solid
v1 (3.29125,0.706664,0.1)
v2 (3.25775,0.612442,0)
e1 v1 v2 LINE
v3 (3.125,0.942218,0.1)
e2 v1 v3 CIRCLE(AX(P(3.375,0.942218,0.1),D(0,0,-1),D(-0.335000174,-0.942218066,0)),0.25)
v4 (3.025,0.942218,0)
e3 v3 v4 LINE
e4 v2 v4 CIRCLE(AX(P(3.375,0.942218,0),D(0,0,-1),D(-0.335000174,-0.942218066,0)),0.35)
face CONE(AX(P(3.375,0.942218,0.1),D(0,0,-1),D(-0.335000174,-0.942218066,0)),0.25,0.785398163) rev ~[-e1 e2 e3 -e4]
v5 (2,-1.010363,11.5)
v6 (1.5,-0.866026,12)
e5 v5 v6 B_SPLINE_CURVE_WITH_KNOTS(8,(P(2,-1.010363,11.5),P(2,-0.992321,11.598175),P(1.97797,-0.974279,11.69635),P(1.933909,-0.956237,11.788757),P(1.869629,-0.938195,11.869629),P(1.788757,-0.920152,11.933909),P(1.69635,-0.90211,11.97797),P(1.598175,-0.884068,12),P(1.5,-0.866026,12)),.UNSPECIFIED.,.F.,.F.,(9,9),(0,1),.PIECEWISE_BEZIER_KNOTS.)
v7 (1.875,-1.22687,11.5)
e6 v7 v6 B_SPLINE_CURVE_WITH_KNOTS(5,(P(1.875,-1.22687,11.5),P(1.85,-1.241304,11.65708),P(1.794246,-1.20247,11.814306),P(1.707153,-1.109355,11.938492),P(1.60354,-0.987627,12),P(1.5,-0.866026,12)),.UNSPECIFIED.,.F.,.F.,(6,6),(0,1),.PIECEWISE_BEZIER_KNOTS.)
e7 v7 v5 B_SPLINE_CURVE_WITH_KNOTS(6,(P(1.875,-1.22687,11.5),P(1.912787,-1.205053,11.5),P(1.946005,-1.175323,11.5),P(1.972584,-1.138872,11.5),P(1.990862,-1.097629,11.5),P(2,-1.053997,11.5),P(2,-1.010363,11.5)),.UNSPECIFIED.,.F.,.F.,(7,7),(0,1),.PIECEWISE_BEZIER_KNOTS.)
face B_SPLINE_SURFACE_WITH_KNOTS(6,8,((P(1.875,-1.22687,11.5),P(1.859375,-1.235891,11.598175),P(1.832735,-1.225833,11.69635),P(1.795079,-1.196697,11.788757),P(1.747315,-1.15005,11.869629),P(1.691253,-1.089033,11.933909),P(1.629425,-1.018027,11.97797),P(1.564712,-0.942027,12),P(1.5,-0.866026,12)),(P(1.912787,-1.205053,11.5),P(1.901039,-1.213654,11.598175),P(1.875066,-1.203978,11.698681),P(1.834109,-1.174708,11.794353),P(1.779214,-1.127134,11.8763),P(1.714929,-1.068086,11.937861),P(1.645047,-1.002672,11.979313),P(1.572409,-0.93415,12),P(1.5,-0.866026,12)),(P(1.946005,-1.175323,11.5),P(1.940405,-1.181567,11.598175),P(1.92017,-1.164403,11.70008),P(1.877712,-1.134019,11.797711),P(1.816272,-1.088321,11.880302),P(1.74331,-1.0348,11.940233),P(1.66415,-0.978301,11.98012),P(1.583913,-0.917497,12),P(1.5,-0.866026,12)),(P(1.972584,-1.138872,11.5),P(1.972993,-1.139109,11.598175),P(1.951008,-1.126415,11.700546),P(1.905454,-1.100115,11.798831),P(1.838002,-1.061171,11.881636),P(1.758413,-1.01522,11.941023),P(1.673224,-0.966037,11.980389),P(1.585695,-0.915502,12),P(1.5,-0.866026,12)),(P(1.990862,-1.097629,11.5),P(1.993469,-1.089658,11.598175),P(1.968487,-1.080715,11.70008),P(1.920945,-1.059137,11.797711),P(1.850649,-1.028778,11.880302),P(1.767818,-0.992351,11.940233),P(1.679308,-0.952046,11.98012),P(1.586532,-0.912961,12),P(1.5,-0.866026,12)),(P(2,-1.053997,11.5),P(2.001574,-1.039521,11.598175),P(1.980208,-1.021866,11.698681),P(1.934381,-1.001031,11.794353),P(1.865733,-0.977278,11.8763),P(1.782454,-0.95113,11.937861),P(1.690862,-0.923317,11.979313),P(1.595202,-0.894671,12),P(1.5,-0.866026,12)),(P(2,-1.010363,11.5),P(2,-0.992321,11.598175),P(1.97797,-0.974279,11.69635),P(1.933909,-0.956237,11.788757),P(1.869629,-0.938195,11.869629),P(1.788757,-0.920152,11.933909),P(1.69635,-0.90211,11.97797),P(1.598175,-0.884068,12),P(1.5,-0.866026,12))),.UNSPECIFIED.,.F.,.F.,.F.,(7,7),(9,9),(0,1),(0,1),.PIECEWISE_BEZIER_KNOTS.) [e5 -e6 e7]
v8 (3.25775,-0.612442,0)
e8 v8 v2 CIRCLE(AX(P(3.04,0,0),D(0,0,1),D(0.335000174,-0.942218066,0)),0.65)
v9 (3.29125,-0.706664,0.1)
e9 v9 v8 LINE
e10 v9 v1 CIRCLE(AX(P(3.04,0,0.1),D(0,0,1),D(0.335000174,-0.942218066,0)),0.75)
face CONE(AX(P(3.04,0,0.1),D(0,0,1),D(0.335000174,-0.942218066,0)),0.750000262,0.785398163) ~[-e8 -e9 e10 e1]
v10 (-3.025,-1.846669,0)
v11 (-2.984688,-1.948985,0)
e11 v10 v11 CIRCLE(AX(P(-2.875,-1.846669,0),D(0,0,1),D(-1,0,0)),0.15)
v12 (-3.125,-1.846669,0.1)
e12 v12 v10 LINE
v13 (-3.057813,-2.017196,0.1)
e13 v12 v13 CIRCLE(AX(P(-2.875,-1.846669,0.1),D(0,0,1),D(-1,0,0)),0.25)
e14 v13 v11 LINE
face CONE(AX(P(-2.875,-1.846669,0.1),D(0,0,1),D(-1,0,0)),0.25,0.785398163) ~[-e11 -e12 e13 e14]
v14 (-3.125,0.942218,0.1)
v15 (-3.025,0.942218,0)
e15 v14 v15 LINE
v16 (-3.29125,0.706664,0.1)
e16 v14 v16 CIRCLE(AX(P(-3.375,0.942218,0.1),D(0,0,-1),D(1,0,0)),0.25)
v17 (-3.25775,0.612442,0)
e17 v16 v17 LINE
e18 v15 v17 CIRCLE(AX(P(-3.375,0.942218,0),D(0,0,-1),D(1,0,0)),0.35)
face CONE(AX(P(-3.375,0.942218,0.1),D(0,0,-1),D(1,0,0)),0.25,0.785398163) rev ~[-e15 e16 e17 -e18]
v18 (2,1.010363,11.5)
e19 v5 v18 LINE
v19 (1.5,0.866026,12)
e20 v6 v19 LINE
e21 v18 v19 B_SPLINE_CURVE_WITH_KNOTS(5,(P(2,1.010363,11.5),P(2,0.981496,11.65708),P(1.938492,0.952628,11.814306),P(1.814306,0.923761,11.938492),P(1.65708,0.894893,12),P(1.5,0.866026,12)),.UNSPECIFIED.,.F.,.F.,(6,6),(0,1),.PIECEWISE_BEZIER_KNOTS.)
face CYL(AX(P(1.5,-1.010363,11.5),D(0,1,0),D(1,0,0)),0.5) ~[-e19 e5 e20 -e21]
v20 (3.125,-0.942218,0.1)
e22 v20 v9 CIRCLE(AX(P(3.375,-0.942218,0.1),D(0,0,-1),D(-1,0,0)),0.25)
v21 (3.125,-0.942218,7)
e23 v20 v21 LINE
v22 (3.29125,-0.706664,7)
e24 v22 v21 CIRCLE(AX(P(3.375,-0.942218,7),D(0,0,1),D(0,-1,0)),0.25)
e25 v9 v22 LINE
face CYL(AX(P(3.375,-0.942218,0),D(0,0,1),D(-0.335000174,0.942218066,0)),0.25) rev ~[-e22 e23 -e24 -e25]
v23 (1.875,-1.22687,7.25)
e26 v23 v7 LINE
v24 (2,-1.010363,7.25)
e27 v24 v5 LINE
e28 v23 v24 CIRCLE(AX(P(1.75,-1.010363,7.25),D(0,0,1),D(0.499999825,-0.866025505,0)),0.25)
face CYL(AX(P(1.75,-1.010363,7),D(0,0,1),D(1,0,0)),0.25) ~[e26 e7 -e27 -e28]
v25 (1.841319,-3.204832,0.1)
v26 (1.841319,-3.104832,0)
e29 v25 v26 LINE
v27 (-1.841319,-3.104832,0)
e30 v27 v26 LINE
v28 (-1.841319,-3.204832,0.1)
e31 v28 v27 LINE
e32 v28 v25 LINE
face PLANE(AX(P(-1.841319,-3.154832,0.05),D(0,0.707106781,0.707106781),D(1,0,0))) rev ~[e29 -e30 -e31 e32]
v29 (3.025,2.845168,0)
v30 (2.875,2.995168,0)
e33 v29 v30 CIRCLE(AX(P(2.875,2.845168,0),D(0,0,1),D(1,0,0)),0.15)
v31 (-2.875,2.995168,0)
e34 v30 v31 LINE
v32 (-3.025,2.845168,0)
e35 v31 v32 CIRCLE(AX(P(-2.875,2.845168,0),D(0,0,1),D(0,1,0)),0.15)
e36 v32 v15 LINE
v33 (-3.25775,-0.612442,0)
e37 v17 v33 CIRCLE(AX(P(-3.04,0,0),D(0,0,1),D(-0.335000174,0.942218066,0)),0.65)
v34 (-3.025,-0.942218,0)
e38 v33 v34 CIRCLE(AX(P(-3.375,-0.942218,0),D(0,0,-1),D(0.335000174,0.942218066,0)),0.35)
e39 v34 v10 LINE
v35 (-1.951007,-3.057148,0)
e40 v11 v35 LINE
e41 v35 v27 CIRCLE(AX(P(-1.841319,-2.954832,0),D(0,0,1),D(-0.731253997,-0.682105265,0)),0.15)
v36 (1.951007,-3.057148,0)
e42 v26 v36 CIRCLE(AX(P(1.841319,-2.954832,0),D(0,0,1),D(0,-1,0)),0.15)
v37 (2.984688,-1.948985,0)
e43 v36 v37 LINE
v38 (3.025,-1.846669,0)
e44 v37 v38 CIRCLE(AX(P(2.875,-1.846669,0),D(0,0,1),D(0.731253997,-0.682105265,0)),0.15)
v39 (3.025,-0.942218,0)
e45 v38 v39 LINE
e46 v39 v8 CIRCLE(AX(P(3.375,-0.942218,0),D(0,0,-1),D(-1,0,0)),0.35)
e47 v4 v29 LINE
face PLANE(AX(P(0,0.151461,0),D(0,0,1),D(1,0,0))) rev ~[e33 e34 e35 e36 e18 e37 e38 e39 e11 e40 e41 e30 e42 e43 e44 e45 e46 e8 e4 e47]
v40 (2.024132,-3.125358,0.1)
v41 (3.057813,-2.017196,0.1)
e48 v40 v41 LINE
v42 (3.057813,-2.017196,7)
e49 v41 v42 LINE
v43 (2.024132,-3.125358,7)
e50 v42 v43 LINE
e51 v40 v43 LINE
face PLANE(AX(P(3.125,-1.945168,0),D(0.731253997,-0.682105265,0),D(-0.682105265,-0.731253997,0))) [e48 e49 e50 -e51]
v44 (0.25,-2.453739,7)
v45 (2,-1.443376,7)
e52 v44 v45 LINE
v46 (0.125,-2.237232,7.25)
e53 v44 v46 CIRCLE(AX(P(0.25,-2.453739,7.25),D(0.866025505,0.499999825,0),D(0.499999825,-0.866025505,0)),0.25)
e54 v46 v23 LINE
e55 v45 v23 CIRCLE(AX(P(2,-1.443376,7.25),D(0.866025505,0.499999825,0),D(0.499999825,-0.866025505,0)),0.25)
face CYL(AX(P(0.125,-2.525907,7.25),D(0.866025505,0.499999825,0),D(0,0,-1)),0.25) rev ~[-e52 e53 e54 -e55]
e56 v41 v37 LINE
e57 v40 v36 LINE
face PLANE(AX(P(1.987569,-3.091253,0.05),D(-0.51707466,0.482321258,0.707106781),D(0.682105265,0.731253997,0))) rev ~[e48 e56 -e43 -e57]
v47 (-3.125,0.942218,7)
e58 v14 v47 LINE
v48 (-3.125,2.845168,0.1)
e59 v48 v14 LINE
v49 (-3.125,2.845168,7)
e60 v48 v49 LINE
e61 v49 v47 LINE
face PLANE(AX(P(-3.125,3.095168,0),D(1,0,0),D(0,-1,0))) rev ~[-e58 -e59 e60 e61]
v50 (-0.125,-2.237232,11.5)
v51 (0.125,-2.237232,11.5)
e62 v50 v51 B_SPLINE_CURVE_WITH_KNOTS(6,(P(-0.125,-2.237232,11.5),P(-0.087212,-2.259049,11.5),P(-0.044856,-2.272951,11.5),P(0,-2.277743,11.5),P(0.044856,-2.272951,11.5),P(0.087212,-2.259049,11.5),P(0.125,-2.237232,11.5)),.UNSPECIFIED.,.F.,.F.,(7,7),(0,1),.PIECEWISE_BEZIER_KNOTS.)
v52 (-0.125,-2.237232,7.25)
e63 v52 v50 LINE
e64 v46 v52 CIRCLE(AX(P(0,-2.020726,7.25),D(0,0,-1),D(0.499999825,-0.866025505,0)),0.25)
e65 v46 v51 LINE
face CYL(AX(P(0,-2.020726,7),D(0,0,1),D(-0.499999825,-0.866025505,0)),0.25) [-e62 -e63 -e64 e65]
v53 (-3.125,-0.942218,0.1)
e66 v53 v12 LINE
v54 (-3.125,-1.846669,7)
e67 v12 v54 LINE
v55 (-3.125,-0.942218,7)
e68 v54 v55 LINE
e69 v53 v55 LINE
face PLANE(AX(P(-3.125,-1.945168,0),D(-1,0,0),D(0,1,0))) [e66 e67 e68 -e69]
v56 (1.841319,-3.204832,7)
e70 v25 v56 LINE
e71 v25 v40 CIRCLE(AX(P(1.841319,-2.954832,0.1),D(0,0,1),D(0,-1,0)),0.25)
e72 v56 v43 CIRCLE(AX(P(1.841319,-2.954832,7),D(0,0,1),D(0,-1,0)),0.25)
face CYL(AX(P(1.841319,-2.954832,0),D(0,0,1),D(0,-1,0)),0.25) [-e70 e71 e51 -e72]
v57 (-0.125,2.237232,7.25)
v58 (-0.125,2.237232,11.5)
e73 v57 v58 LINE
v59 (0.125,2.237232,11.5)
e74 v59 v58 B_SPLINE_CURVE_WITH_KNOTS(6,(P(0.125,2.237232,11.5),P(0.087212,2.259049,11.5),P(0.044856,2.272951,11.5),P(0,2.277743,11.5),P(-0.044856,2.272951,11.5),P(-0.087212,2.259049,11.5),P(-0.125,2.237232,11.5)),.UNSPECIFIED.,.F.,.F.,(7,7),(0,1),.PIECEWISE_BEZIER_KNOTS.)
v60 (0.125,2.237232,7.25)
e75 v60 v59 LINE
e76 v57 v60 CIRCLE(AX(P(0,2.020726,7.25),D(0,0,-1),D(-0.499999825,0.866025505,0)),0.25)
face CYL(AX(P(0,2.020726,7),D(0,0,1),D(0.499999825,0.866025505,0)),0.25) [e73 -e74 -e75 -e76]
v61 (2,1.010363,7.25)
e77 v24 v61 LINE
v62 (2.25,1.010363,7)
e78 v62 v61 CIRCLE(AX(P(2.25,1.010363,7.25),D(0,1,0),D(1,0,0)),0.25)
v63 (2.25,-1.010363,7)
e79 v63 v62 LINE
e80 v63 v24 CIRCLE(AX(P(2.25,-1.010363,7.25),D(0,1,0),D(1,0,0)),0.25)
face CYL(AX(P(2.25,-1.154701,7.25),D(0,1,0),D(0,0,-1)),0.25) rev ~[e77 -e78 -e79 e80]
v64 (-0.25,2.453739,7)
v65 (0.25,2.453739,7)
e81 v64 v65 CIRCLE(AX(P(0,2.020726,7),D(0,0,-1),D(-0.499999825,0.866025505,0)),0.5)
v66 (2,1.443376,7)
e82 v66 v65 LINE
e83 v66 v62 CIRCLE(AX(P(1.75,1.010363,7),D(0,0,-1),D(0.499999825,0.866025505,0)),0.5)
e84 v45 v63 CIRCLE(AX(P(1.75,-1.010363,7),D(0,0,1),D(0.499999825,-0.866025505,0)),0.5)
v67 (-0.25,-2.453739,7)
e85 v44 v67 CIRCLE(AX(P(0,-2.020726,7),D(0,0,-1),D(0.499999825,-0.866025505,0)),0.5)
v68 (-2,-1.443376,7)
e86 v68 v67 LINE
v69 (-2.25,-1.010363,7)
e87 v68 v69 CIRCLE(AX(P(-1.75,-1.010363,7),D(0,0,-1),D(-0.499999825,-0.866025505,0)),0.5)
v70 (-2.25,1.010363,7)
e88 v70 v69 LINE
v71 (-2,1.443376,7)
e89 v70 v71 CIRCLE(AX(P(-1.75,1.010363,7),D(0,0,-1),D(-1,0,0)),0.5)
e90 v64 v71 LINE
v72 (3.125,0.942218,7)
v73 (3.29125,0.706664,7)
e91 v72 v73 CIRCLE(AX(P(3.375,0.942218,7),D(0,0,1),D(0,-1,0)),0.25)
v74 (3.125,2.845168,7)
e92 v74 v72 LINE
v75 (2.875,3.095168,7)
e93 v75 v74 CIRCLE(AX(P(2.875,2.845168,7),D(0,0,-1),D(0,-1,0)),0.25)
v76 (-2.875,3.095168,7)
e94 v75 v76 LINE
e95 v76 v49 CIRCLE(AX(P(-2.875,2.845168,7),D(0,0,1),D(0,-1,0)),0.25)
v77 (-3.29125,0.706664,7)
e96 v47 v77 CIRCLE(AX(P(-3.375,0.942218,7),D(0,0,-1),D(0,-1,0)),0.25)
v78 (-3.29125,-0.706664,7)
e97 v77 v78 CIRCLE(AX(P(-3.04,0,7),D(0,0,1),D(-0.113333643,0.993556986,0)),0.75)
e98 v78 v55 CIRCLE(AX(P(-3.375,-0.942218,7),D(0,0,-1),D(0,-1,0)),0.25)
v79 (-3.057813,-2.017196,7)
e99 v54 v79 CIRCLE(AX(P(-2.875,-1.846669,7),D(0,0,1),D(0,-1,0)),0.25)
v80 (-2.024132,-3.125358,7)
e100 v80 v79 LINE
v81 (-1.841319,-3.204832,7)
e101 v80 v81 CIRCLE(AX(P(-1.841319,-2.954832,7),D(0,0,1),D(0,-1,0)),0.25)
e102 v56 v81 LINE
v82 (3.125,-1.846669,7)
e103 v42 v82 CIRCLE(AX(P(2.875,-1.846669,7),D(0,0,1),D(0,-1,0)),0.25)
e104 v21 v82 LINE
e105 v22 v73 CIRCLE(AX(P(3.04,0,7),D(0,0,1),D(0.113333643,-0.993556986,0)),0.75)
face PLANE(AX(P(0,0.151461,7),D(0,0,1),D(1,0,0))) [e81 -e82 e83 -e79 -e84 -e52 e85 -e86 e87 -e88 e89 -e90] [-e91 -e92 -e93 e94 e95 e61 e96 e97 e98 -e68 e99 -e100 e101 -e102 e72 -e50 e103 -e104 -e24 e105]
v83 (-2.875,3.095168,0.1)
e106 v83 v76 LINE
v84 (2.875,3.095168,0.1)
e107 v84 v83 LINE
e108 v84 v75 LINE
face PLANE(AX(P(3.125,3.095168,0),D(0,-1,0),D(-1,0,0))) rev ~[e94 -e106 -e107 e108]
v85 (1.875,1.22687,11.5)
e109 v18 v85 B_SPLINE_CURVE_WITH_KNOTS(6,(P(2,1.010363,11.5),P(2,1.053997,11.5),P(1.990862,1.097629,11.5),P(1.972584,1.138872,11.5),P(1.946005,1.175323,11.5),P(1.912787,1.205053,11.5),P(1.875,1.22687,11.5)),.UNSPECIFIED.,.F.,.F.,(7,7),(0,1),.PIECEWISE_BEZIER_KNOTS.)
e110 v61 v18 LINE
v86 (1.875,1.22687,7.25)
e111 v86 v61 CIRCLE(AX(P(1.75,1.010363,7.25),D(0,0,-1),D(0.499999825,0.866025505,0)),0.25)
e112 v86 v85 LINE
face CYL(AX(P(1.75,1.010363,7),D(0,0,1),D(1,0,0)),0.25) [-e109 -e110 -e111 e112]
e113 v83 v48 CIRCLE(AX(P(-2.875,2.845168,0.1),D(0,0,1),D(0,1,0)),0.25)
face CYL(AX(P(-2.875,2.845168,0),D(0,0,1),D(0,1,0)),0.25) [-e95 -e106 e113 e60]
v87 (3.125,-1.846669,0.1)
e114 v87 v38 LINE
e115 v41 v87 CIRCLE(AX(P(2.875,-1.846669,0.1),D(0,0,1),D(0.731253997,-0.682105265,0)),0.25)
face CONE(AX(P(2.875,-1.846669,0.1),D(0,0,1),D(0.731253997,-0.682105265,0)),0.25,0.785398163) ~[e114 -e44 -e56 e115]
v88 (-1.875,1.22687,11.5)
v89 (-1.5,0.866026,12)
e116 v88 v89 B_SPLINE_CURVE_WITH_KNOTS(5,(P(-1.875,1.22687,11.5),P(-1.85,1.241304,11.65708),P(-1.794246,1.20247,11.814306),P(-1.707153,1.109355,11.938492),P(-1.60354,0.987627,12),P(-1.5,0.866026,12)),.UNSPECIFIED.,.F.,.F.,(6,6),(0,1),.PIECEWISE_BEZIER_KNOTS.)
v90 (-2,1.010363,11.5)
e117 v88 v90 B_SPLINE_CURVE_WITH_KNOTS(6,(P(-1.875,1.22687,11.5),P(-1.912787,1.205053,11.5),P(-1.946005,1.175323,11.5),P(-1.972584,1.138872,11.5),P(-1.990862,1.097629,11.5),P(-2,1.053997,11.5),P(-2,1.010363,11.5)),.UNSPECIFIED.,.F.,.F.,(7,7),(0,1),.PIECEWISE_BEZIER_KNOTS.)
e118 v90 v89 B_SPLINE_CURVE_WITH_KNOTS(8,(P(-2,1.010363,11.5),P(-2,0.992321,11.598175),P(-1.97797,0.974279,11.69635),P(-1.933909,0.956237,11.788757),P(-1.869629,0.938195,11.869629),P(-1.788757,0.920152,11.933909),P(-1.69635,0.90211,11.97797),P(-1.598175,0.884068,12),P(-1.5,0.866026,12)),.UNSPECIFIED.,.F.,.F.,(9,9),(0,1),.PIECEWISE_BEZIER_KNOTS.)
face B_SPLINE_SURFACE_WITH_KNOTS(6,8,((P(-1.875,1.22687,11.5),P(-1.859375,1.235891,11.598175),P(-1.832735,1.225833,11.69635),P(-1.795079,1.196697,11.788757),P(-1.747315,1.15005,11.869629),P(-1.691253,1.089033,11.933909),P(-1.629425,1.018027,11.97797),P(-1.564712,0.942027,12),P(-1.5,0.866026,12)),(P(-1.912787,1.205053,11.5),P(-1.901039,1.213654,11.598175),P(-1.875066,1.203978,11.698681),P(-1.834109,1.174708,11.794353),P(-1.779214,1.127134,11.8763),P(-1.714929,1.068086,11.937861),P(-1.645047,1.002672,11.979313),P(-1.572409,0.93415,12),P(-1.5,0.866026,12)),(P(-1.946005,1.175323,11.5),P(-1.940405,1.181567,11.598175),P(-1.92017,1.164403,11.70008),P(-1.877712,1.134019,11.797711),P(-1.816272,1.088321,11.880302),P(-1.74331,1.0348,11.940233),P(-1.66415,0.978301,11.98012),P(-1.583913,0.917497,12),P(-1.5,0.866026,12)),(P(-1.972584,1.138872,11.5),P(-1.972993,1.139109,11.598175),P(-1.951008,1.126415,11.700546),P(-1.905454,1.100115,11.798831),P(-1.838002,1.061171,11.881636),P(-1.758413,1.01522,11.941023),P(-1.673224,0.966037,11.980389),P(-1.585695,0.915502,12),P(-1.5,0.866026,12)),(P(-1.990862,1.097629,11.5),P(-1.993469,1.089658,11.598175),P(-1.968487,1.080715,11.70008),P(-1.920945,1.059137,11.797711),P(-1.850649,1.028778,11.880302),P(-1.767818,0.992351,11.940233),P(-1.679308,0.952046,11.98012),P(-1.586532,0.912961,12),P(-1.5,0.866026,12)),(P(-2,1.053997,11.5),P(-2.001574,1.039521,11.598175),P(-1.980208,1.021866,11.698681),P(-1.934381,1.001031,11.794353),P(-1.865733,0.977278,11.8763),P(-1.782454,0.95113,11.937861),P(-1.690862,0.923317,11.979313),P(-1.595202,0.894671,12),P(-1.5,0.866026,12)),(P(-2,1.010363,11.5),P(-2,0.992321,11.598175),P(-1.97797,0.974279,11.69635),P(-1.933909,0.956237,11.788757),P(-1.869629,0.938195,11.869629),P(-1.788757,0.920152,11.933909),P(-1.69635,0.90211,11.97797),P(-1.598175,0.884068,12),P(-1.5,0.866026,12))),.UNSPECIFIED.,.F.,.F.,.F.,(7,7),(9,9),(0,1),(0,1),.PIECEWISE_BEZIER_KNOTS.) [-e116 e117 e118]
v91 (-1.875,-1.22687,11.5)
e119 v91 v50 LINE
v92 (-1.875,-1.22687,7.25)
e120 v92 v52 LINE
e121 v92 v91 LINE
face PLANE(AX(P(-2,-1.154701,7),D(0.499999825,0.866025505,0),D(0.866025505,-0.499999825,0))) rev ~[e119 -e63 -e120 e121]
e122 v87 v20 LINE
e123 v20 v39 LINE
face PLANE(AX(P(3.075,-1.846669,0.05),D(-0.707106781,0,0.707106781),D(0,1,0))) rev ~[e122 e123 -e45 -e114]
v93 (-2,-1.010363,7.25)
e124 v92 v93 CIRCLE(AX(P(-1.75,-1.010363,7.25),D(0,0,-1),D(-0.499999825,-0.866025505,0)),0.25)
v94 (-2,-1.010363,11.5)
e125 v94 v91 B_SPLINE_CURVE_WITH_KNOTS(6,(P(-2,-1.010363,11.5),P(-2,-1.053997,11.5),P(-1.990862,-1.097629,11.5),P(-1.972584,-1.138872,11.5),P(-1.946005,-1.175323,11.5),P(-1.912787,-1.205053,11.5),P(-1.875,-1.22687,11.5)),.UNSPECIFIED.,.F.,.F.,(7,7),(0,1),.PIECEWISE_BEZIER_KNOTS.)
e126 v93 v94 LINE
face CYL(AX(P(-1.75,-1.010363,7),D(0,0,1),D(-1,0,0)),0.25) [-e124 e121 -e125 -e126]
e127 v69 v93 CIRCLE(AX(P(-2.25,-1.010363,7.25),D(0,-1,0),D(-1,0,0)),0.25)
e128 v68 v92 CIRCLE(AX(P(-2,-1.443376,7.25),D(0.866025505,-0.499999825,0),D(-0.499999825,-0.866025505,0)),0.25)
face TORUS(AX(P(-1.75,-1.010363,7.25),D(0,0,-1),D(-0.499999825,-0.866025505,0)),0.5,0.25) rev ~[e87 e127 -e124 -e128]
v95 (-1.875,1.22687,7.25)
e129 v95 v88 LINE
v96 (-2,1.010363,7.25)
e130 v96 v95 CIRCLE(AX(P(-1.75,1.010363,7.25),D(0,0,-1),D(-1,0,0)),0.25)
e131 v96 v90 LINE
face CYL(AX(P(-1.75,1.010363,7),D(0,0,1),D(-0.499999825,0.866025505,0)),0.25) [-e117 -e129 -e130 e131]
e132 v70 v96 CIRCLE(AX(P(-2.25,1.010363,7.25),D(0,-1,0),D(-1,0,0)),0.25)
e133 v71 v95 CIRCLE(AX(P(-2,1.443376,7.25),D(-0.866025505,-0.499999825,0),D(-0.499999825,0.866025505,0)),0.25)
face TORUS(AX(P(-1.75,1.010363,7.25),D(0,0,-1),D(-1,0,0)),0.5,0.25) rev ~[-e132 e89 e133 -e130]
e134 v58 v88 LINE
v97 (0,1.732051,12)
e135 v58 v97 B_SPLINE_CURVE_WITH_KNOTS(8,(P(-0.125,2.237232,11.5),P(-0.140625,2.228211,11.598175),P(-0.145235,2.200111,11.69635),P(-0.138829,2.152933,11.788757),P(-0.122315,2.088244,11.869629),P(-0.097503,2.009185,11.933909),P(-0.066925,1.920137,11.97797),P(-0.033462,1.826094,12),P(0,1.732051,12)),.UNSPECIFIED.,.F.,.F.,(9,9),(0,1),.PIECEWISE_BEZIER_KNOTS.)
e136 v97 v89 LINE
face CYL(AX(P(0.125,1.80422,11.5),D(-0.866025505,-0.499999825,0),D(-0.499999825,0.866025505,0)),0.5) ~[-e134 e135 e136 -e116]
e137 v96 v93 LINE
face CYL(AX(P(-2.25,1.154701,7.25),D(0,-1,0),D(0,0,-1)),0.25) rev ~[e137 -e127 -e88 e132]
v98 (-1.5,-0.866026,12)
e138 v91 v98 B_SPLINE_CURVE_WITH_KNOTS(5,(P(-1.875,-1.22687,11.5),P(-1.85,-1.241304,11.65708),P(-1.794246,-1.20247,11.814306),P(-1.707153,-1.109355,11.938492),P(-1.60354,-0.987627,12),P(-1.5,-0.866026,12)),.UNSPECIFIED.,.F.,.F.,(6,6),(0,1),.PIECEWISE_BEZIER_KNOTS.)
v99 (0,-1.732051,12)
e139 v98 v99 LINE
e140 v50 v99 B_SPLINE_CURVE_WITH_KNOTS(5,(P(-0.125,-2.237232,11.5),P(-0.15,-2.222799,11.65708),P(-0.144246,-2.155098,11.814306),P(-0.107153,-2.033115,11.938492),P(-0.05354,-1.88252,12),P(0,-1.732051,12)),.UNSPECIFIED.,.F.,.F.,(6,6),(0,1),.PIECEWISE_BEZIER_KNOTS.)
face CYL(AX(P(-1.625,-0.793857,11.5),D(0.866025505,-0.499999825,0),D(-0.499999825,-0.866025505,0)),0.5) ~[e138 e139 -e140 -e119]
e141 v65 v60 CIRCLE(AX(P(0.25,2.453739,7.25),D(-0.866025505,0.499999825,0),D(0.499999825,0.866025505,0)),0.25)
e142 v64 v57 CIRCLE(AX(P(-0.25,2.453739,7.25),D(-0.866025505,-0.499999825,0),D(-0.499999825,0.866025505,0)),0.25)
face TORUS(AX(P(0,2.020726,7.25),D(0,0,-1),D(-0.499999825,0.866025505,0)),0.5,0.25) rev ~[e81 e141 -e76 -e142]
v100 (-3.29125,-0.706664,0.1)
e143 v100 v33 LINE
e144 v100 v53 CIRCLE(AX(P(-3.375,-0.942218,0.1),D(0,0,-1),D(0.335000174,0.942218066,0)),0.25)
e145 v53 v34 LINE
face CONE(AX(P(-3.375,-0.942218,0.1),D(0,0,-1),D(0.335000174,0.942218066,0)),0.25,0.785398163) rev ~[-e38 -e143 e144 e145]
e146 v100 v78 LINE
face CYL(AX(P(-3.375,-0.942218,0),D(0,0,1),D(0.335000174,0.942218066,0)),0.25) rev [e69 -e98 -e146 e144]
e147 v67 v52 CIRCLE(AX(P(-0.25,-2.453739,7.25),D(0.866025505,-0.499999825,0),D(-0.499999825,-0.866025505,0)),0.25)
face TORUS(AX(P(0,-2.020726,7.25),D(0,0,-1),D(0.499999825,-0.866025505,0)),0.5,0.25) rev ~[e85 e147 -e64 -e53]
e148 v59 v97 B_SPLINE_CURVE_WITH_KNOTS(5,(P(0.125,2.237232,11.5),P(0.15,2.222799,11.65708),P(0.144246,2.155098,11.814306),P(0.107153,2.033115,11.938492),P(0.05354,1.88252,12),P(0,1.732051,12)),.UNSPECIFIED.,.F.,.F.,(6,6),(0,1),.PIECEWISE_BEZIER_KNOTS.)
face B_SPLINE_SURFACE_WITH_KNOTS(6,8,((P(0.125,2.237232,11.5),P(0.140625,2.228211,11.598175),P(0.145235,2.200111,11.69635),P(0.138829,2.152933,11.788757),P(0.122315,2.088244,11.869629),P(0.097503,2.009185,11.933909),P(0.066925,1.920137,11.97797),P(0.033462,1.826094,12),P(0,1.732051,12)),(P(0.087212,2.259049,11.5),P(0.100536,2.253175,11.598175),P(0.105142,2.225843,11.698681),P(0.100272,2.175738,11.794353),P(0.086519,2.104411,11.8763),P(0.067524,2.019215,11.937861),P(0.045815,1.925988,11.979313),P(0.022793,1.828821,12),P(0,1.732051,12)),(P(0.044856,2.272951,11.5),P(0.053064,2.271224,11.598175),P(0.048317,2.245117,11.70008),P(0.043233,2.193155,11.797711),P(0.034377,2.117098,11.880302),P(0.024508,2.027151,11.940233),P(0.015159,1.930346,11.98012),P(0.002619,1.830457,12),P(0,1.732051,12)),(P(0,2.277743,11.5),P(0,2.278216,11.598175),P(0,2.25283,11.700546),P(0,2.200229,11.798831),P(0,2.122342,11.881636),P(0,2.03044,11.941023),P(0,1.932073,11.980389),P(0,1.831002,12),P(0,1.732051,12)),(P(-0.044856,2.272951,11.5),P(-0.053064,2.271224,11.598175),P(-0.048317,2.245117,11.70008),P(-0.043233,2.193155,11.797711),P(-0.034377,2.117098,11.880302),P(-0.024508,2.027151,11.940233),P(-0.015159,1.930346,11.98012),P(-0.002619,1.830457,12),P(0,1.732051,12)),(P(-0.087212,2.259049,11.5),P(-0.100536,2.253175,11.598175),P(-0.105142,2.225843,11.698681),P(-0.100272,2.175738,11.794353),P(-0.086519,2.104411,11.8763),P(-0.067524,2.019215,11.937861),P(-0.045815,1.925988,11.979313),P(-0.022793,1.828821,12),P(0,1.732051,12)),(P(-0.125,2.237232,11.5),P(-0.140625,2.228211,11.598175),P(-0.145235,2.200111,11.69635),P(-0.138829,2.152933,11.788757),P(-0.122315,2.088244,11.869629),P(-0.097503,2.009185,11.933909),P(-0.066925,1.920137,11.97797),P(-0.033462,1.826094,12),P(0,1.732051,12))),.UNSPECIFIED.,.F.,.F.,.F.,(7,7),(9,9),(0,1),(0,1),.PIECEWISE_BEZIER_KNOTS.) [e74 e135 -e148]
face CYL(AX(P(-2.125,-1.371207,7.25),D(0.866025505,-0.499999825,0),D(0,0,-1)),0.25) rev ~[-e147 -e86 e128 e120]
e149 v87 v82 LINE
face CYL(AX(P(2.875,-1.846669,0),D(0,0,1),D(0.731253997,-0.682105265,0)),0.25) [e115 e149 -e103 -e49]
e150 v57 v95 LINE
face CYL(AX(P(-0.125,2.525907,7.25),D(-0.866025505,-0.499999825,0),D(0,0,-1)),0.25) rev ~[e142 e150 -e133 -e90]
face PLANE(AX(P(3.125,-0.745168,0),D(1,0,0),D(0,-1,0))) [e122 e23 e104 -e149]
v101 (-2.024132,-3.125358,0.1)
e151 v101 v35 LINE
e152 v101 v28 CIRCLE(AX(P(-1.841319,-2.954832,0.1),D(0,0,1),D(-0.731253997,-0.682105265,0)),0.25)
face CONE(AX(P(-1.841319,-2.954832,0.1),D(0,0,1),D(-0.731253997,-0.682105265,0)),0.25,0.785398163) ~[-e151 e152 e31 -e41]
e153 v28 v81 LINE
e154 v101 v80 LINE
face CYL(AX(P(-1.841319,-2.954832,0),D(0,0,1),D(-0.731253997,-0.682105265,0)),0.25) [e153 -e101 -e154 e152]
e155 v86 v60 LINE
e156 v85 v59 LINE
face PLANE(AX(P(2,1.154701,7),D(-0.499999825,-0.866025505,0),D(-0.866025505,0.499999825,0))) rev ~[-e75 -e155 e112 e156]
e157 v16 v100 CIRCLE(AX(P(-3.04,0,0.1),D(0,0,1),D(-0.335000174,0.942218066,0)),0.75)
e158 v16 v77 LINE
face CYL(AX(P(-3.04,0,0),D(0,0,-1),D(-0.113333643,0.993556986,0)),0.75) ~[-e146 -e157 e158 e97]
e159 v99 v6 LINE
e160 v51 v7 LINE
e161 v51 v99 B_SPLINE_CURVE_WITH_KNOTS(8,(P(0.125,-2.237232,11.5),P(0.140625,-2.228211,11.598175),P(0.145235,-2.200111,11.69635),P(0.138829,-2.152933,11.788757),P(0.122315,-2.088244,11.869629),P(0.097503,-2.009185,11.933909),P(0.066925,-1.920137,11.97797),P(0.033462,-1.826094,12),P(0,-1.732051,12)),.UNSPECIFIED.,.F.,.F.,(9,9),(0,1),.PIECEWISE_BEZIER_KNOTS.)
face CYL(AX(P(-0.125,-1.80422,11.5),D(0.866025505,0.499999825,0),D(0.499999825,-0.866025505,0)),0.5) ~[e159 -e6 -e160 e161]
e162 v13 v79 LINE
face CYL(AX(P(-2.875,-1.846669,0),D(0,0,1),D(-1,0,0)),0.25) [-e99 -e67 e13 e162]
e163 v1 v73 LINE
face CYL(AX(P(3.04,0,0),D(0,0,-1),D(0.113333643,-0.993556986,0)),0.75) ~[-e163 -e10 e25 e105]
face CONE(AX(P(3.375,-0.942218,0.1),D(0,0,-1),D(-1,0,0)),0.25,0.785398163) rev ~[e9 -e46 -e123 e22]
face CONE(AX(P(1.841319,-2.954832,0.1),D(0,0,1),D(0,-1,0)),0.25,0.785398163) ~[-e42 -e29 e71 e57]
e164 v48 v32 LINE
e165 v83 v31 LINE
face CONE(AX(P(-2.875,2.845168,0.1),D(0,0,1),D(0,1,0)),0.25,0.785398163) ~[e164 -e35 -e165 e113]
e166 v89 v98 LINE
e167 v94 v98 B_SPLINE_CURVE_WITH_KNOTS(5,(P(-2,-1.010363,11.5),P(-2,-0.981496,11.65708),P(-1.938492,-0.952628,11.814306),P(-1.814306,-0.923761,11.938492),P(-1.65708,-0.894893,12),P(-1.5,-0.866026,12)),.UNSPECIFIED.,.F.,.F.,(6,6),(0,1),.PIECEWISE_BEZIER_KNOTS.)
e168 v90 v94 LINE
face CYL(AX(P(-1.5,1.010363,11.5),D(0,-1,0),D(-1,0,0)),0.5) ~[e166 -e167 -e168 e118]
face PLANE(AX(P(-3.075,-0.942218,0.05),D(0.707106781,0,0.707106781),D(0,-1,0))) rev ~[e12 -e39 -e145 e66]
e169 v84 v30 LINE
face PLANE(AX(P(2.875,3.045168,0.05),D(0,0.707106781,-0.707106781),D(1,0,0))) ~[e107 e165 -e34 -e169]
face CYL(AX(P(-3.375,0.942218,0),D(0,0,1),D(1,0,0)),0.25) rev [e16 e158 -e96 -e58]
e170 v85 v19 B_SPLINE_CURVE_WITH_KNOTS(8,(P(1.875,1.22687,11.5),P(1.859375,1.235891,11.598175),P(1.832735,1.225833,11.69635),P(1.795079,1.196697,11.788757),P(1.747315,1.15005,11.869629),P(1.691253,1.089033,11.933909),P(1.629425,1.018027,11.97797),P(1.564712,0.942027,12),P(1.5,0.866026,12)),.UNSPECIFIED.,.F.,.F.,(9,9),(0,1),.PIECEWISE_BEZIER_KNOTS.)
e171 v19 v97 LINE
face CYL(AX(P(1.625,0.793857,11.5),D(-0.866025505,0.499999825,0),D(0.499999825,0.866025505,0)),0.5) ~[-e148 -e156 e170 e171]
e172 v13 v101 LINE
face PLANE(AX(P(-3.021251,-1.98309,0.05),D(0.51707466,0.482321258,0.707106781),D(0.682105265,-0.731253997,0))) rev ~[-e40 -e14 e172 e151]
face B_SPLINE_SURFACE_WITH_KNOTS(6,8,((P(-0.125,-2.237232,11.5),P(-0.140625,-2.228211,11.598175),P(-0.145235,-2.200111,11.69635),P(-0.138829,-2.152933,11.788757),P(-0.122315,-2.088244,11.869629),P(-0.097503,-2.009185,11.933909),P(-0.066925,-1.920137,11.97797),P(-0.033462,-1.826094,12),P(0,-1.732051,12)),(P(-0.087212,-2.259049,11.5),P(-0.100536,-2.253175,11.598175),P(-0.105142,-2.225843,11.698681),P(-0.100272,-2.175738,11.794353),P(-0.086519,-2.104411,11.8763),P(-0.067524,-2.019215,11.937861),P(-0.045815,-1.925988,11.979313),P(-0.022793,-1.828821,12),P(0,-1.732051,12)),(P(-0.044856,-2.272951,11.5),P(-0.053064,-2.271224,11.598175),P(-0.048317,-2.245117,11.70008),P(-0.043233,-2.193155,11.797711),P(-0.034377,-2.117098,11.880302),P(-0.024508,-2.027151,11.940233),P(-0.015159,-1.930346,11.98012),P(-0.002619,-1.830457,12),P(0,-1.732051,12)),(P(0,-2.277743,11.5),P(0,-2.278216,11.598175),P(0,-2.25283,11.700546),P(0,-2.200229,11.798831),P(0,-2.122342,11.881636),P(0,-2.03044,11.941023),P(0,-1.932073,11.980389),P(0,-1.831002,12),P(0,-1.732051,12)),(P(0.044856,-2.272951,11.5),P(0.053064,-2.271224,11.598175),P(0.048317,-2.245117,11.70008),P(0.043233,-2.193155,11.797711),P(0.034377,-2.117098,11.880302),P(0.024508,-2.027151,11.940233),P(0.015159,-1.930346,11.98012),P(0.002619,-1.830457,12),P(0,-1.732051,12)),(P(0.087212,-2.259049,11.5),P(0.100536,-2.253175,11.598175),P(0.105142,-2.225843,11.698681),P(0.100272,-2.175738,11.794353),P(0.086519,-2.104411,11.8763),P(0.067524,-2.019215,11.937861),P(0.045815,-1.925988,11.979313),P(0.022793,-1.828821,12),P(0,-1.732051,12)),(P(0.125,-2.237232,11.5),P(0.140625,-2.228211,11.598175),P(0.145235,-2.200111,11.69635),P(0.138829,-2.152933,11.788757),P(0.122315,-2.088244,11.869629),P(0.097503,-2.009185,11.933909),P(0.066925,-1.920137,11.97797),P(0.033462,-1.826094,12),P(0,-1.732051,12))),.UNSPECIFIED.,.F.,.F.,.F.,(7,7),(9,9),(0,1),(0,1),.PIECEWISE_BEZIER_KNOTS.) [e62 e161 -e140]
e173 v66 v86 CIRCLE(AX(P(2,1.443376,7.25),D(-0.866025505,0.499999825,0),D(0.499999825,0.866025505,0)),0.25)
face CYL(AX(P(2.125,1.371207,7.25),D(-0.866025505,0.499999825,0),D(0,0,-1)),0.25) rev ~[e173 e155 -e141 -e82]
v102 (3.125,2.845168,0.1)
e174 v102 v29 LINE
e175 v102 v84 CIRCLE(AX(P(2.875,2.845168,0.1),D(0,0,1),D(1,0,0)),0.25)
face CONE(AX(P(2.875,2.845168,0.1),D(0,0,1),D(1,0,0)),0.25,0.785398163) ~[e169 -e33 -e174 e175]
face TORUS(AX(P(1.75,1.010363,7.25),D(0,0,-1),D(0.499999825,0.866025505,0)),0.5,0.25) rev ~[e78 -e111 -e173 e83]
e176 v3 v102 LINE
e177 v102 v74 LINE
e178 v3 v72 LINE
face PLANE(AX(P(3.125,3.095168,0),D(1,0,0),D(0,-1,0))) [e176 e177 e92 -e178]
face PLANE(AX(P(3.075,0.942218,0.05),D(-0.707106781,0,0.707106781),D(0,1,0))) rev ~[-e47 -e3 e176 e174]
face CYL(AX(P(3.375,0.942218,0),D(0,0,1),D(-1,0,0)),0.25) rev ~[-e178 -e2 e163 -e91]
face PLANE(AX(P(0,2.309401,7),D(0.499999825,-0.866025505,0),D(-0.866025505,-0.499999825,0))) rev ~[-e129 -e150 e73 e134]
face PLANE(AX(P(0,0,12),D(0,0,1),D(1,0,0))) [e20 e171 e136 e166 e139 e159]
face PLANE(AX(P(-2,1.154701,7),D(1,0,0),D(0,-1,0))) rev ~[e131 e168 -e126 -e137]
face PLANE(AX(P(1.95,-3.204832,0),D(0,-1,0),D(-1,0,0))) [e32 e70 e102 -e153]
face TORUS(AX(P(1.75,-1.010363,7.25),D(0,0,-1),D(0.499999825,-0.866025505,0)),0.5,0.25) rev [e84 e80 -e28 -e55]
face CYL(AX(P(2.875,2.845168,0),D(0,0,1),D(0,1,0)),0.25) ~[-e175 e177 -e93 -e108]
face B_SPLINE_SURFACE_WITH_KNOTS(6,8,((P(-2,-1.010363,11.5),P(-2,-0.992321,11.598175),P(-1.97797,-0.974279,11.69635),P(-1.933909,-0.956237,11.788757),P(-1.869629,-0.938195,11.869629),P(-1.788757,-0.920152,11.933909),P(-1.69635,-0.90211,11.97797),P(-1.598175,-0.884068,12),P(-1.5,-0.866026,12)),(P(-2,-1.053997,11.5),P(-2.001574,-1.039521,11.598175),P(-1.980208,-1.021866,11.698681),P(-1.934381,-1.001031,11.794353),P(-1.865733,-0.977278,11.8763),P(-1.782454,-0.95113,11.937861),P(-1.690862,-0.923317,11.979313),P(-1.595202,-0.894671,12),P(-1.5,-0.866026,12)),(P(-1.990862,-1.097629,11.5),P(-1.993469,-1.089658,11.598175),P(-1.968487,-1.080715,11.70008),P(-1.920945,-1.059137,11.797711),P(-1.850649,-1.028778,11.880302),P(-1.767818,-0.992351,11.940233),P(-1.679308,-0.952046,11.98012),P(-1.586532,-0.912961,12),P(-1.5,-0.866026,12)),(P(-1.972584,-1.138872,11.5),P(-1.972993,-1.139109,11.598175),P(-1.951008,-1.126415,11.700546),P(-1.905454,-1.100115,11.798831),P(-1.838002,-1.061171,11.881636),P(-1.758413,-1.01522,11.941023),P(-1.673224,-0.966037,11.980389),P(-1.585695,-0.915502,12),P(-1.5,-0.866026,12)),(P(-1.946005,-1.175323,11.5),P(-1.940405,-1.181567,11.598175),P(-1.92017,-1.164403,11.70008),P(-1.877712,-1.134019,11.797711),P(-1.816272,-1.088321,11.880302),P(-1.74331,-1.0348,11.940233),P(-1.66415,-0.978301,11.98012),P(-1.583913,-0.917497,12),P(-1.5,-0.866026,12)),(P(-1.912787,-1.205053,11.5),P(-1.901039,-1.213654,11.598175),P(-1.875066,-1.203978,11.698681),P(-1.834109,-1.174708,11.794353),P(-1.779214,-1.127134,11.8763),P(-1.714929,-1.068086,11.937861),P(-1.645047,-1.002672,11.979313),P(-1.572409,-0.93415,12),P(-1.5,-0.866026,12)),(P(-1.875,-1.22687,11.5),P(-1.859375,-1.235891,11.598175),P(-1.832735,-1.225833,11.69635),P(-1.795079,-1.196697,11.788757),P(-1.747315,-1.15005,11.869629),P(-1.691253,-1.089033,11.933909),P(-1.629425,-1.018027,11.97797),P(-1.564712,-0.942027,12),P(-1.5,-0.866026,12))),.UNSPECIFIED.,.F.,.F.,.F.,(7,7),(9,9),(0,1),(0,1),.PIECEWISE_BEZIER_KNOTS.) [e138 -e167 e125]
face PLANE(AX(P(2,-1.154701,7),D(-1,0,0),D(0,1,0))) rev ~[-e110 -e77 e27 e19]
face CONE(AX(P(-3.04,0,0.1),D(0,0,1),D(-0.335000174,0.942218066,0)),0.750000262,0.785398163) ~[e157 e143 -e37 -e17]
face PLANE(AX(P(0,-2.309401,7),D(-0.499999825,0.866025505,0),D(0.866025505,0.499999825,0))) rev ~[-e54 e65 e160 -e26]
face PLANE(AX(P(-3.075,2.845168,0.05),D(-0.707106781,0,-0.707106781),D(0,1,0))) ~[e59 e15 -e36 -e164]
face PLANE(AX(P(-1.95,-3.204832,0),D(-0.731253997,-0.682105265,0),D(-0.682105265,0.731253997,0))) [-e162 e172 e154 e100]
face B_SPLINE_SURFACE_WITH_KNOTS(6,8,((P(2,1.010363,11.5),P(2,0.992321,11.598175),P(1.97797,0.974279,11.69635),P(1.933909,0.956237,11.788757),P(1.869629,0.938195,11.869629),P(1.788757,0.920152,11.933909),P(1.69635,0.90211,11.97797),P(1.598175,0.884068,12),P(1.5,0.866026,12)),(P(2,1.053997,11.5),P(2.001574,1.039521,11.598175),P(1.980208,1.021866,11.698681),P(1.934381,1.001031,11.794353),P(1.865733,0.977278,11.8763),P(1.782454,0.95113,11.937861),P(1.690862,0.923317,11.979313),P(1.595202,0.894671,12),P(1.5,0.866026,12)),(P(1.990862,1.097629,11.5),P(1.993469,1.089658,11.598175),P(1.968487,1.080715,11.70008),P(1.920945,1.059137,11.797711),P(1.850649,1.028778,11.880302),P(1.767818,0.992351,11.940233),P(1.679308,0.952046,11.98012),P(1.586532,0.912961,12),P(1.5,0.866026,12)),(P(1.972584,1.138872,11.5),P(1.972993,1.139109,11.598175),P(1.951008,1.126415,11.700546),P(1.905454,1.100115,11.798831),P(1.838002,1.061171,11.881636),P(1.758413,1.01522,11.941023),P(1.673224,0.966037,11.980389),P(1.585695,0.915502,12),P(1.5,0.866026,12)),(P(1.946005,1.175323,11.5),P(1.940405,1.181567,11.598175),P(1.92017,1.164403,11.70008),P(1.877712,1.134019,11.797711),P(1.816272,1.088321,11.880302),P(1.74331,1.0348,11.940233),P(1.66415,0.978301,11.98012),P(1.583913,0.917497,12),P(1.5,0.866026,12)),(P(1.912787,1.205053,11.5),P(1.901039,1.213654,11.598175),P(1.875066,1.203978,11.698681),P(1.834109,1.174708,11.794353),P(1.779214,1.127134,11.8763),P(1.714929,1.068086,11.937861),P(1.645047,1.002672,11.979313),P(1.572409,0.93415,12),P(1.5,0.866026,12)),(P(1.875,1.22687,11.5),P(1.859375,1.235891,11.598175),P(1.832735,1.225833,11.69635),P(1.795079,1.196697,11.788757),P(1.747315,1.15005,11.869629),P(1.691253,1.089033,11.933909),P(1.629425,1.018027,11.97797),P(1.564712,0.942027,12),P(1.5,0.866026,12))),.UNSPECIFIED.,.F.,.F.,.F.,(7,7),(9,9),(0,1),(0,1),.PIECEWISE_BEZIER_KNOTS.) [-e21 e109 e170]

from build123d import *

# Parameters (mm, degrees)
PAD013_DEPTH    = 7
PAD014_DEPTH    = 5
FILLET018_R     = 0.25
FILLET019_R     = 0.5
CHAMFER001_SIZE = 0.1


with BuildPart() as part:
    # Sketch035 → Pad013 (new body)
    with BuildSketch(Plane.XY):
        with BuildLine():
            Line((3.125, 3.095168), (-3.125, 3.095168))
            Line((-3.125, 3.095168), (-3.125, 0.745168))
            ThreePointArc((-3.125, 0.745168), (-3.79, 0), (-3.125, -0.745168))
            Line((-3.125, -1.945168), (-3.125, -0.745168))
            Line((-1.95, -3.204832), (-3.125, -1.945168))
            Line((1.95, -3.204832), (-1.95, -3.204832))
            Line((3.125, -1.945168), (1.95, -3.204832))
            Line((3.125, -0.745168), (3.125, -1.945168))
            ThreePointArc((3.125, -0.745168), (3.79, 0), (3.125, 0.745168))
            Line((3.125, 3.095168), (3.125, 0.745168))
        make_face()
    extrude(amount=PAD013_DEPTH)

    # Sketch036 (on Face12 of Pad013) → Pad014 (join)
    with BuildSketch(Plane.XY.offset(7)):
        Polygon((2, -1.154701), (2, 1.154701), (0, 2.309401), (-2, 1.154701), (-2, -1.154701), (0, -2.309401), align=None)
    extrude(amount=PAD014_DEPTH)

    # Fillet018
    fillet018_edges = [part.edges().sort_by_distance(p)[0] for p in [
        (1.95, -3.204832, 3.5),
        (3.125, -1.945168, 3.5),
        (-1.95, -3.204832, 3.5),
        (-3.125, -1.945168, 3.5),
        (-3.125, -0.745168, 3.5),
        (-3.125, 0.745168, 3.5),
        (-3.125, 3.095168, 3.5),
        (3.125, 3.095168, 3.5),
        (3.125, 0.745168, 3.5),
        (3.125, -0.745168, 3.5),
        (2, -1.154701, 9.5),
        (2, 1.154701, 9.5),
        (0, -2.309401, 9.5),
        (-2, -1.154701, 9.5),
        (-2, 1.154701, 9.5),
        (0, 2.309401, 9.5),
        (1, -1.732051, 7),
        (-1, -1.732051, 7),
        (-2, 0, 7),
        (-1, 1.732051, 7),
        (1, 1.732051, 7),
        (2, 0, 7),
    ]]
    fillet(fillet018_edges, radius=FILLET018_R)

    # Fillet019
    fillet019_edges = [part.edges().sort_by_distance(p)[0] for p in [
        (-1, -1.732051, 12),
        (0, -2.270726, 12),
        (1, -1.732051, 12),
        (1.966506, -1.135363, 12),
        (2, 0, 12),
        (1.966506, 1.135363, 12),
        (1, 1.732051, 12),
        (0, 2.270726, 12),
        (-1, 1.732051, 12),
        (-1.966506, 1.135363, 12),
        (-2, 0, 12),
        (-1.966506, -1.135363, 12),
    ]]
    fillet(fillet019_edges, radius=FILLET019_R)

    # Chamfer001
    chamfer001_edges = [part.edges().sort_by_distance(p)[0] for p in [
        (-3.125, 1.893693, 0),
        (-3.051777, 3.021944, 0),
        (0, 3.095168, 0),
        (3.051777, 3.021944, 0),
        (3.125, 1.893693, 0),
        (3.170748, 0.798061, 0),
        (3.79, 0, 0),
        (3.170748, -0.798061, 0),
        (3.125, -1.394444, 0),
        (3.107598, -1.938311, 0),
        (2.540973, -2.571277, 0),
        (1.940989, -3.184105, 0),
        (0, -3.204832, 0),
        (-1.940989, -3.184105, 0),
        (-2.540973, -2.571277, 0),
        (-3.107598, -1.938311, 0),
        (-3.125, -1.394444, 0),
        (-3.170748, -0.798061, 0),
        (-3.79, 0, 0),
        (-3.170748, 0.798061, 0),
    ]]
    chamfer(chamfer001_edges, length=CHAMFER001_SIZE)


solid = part.part
